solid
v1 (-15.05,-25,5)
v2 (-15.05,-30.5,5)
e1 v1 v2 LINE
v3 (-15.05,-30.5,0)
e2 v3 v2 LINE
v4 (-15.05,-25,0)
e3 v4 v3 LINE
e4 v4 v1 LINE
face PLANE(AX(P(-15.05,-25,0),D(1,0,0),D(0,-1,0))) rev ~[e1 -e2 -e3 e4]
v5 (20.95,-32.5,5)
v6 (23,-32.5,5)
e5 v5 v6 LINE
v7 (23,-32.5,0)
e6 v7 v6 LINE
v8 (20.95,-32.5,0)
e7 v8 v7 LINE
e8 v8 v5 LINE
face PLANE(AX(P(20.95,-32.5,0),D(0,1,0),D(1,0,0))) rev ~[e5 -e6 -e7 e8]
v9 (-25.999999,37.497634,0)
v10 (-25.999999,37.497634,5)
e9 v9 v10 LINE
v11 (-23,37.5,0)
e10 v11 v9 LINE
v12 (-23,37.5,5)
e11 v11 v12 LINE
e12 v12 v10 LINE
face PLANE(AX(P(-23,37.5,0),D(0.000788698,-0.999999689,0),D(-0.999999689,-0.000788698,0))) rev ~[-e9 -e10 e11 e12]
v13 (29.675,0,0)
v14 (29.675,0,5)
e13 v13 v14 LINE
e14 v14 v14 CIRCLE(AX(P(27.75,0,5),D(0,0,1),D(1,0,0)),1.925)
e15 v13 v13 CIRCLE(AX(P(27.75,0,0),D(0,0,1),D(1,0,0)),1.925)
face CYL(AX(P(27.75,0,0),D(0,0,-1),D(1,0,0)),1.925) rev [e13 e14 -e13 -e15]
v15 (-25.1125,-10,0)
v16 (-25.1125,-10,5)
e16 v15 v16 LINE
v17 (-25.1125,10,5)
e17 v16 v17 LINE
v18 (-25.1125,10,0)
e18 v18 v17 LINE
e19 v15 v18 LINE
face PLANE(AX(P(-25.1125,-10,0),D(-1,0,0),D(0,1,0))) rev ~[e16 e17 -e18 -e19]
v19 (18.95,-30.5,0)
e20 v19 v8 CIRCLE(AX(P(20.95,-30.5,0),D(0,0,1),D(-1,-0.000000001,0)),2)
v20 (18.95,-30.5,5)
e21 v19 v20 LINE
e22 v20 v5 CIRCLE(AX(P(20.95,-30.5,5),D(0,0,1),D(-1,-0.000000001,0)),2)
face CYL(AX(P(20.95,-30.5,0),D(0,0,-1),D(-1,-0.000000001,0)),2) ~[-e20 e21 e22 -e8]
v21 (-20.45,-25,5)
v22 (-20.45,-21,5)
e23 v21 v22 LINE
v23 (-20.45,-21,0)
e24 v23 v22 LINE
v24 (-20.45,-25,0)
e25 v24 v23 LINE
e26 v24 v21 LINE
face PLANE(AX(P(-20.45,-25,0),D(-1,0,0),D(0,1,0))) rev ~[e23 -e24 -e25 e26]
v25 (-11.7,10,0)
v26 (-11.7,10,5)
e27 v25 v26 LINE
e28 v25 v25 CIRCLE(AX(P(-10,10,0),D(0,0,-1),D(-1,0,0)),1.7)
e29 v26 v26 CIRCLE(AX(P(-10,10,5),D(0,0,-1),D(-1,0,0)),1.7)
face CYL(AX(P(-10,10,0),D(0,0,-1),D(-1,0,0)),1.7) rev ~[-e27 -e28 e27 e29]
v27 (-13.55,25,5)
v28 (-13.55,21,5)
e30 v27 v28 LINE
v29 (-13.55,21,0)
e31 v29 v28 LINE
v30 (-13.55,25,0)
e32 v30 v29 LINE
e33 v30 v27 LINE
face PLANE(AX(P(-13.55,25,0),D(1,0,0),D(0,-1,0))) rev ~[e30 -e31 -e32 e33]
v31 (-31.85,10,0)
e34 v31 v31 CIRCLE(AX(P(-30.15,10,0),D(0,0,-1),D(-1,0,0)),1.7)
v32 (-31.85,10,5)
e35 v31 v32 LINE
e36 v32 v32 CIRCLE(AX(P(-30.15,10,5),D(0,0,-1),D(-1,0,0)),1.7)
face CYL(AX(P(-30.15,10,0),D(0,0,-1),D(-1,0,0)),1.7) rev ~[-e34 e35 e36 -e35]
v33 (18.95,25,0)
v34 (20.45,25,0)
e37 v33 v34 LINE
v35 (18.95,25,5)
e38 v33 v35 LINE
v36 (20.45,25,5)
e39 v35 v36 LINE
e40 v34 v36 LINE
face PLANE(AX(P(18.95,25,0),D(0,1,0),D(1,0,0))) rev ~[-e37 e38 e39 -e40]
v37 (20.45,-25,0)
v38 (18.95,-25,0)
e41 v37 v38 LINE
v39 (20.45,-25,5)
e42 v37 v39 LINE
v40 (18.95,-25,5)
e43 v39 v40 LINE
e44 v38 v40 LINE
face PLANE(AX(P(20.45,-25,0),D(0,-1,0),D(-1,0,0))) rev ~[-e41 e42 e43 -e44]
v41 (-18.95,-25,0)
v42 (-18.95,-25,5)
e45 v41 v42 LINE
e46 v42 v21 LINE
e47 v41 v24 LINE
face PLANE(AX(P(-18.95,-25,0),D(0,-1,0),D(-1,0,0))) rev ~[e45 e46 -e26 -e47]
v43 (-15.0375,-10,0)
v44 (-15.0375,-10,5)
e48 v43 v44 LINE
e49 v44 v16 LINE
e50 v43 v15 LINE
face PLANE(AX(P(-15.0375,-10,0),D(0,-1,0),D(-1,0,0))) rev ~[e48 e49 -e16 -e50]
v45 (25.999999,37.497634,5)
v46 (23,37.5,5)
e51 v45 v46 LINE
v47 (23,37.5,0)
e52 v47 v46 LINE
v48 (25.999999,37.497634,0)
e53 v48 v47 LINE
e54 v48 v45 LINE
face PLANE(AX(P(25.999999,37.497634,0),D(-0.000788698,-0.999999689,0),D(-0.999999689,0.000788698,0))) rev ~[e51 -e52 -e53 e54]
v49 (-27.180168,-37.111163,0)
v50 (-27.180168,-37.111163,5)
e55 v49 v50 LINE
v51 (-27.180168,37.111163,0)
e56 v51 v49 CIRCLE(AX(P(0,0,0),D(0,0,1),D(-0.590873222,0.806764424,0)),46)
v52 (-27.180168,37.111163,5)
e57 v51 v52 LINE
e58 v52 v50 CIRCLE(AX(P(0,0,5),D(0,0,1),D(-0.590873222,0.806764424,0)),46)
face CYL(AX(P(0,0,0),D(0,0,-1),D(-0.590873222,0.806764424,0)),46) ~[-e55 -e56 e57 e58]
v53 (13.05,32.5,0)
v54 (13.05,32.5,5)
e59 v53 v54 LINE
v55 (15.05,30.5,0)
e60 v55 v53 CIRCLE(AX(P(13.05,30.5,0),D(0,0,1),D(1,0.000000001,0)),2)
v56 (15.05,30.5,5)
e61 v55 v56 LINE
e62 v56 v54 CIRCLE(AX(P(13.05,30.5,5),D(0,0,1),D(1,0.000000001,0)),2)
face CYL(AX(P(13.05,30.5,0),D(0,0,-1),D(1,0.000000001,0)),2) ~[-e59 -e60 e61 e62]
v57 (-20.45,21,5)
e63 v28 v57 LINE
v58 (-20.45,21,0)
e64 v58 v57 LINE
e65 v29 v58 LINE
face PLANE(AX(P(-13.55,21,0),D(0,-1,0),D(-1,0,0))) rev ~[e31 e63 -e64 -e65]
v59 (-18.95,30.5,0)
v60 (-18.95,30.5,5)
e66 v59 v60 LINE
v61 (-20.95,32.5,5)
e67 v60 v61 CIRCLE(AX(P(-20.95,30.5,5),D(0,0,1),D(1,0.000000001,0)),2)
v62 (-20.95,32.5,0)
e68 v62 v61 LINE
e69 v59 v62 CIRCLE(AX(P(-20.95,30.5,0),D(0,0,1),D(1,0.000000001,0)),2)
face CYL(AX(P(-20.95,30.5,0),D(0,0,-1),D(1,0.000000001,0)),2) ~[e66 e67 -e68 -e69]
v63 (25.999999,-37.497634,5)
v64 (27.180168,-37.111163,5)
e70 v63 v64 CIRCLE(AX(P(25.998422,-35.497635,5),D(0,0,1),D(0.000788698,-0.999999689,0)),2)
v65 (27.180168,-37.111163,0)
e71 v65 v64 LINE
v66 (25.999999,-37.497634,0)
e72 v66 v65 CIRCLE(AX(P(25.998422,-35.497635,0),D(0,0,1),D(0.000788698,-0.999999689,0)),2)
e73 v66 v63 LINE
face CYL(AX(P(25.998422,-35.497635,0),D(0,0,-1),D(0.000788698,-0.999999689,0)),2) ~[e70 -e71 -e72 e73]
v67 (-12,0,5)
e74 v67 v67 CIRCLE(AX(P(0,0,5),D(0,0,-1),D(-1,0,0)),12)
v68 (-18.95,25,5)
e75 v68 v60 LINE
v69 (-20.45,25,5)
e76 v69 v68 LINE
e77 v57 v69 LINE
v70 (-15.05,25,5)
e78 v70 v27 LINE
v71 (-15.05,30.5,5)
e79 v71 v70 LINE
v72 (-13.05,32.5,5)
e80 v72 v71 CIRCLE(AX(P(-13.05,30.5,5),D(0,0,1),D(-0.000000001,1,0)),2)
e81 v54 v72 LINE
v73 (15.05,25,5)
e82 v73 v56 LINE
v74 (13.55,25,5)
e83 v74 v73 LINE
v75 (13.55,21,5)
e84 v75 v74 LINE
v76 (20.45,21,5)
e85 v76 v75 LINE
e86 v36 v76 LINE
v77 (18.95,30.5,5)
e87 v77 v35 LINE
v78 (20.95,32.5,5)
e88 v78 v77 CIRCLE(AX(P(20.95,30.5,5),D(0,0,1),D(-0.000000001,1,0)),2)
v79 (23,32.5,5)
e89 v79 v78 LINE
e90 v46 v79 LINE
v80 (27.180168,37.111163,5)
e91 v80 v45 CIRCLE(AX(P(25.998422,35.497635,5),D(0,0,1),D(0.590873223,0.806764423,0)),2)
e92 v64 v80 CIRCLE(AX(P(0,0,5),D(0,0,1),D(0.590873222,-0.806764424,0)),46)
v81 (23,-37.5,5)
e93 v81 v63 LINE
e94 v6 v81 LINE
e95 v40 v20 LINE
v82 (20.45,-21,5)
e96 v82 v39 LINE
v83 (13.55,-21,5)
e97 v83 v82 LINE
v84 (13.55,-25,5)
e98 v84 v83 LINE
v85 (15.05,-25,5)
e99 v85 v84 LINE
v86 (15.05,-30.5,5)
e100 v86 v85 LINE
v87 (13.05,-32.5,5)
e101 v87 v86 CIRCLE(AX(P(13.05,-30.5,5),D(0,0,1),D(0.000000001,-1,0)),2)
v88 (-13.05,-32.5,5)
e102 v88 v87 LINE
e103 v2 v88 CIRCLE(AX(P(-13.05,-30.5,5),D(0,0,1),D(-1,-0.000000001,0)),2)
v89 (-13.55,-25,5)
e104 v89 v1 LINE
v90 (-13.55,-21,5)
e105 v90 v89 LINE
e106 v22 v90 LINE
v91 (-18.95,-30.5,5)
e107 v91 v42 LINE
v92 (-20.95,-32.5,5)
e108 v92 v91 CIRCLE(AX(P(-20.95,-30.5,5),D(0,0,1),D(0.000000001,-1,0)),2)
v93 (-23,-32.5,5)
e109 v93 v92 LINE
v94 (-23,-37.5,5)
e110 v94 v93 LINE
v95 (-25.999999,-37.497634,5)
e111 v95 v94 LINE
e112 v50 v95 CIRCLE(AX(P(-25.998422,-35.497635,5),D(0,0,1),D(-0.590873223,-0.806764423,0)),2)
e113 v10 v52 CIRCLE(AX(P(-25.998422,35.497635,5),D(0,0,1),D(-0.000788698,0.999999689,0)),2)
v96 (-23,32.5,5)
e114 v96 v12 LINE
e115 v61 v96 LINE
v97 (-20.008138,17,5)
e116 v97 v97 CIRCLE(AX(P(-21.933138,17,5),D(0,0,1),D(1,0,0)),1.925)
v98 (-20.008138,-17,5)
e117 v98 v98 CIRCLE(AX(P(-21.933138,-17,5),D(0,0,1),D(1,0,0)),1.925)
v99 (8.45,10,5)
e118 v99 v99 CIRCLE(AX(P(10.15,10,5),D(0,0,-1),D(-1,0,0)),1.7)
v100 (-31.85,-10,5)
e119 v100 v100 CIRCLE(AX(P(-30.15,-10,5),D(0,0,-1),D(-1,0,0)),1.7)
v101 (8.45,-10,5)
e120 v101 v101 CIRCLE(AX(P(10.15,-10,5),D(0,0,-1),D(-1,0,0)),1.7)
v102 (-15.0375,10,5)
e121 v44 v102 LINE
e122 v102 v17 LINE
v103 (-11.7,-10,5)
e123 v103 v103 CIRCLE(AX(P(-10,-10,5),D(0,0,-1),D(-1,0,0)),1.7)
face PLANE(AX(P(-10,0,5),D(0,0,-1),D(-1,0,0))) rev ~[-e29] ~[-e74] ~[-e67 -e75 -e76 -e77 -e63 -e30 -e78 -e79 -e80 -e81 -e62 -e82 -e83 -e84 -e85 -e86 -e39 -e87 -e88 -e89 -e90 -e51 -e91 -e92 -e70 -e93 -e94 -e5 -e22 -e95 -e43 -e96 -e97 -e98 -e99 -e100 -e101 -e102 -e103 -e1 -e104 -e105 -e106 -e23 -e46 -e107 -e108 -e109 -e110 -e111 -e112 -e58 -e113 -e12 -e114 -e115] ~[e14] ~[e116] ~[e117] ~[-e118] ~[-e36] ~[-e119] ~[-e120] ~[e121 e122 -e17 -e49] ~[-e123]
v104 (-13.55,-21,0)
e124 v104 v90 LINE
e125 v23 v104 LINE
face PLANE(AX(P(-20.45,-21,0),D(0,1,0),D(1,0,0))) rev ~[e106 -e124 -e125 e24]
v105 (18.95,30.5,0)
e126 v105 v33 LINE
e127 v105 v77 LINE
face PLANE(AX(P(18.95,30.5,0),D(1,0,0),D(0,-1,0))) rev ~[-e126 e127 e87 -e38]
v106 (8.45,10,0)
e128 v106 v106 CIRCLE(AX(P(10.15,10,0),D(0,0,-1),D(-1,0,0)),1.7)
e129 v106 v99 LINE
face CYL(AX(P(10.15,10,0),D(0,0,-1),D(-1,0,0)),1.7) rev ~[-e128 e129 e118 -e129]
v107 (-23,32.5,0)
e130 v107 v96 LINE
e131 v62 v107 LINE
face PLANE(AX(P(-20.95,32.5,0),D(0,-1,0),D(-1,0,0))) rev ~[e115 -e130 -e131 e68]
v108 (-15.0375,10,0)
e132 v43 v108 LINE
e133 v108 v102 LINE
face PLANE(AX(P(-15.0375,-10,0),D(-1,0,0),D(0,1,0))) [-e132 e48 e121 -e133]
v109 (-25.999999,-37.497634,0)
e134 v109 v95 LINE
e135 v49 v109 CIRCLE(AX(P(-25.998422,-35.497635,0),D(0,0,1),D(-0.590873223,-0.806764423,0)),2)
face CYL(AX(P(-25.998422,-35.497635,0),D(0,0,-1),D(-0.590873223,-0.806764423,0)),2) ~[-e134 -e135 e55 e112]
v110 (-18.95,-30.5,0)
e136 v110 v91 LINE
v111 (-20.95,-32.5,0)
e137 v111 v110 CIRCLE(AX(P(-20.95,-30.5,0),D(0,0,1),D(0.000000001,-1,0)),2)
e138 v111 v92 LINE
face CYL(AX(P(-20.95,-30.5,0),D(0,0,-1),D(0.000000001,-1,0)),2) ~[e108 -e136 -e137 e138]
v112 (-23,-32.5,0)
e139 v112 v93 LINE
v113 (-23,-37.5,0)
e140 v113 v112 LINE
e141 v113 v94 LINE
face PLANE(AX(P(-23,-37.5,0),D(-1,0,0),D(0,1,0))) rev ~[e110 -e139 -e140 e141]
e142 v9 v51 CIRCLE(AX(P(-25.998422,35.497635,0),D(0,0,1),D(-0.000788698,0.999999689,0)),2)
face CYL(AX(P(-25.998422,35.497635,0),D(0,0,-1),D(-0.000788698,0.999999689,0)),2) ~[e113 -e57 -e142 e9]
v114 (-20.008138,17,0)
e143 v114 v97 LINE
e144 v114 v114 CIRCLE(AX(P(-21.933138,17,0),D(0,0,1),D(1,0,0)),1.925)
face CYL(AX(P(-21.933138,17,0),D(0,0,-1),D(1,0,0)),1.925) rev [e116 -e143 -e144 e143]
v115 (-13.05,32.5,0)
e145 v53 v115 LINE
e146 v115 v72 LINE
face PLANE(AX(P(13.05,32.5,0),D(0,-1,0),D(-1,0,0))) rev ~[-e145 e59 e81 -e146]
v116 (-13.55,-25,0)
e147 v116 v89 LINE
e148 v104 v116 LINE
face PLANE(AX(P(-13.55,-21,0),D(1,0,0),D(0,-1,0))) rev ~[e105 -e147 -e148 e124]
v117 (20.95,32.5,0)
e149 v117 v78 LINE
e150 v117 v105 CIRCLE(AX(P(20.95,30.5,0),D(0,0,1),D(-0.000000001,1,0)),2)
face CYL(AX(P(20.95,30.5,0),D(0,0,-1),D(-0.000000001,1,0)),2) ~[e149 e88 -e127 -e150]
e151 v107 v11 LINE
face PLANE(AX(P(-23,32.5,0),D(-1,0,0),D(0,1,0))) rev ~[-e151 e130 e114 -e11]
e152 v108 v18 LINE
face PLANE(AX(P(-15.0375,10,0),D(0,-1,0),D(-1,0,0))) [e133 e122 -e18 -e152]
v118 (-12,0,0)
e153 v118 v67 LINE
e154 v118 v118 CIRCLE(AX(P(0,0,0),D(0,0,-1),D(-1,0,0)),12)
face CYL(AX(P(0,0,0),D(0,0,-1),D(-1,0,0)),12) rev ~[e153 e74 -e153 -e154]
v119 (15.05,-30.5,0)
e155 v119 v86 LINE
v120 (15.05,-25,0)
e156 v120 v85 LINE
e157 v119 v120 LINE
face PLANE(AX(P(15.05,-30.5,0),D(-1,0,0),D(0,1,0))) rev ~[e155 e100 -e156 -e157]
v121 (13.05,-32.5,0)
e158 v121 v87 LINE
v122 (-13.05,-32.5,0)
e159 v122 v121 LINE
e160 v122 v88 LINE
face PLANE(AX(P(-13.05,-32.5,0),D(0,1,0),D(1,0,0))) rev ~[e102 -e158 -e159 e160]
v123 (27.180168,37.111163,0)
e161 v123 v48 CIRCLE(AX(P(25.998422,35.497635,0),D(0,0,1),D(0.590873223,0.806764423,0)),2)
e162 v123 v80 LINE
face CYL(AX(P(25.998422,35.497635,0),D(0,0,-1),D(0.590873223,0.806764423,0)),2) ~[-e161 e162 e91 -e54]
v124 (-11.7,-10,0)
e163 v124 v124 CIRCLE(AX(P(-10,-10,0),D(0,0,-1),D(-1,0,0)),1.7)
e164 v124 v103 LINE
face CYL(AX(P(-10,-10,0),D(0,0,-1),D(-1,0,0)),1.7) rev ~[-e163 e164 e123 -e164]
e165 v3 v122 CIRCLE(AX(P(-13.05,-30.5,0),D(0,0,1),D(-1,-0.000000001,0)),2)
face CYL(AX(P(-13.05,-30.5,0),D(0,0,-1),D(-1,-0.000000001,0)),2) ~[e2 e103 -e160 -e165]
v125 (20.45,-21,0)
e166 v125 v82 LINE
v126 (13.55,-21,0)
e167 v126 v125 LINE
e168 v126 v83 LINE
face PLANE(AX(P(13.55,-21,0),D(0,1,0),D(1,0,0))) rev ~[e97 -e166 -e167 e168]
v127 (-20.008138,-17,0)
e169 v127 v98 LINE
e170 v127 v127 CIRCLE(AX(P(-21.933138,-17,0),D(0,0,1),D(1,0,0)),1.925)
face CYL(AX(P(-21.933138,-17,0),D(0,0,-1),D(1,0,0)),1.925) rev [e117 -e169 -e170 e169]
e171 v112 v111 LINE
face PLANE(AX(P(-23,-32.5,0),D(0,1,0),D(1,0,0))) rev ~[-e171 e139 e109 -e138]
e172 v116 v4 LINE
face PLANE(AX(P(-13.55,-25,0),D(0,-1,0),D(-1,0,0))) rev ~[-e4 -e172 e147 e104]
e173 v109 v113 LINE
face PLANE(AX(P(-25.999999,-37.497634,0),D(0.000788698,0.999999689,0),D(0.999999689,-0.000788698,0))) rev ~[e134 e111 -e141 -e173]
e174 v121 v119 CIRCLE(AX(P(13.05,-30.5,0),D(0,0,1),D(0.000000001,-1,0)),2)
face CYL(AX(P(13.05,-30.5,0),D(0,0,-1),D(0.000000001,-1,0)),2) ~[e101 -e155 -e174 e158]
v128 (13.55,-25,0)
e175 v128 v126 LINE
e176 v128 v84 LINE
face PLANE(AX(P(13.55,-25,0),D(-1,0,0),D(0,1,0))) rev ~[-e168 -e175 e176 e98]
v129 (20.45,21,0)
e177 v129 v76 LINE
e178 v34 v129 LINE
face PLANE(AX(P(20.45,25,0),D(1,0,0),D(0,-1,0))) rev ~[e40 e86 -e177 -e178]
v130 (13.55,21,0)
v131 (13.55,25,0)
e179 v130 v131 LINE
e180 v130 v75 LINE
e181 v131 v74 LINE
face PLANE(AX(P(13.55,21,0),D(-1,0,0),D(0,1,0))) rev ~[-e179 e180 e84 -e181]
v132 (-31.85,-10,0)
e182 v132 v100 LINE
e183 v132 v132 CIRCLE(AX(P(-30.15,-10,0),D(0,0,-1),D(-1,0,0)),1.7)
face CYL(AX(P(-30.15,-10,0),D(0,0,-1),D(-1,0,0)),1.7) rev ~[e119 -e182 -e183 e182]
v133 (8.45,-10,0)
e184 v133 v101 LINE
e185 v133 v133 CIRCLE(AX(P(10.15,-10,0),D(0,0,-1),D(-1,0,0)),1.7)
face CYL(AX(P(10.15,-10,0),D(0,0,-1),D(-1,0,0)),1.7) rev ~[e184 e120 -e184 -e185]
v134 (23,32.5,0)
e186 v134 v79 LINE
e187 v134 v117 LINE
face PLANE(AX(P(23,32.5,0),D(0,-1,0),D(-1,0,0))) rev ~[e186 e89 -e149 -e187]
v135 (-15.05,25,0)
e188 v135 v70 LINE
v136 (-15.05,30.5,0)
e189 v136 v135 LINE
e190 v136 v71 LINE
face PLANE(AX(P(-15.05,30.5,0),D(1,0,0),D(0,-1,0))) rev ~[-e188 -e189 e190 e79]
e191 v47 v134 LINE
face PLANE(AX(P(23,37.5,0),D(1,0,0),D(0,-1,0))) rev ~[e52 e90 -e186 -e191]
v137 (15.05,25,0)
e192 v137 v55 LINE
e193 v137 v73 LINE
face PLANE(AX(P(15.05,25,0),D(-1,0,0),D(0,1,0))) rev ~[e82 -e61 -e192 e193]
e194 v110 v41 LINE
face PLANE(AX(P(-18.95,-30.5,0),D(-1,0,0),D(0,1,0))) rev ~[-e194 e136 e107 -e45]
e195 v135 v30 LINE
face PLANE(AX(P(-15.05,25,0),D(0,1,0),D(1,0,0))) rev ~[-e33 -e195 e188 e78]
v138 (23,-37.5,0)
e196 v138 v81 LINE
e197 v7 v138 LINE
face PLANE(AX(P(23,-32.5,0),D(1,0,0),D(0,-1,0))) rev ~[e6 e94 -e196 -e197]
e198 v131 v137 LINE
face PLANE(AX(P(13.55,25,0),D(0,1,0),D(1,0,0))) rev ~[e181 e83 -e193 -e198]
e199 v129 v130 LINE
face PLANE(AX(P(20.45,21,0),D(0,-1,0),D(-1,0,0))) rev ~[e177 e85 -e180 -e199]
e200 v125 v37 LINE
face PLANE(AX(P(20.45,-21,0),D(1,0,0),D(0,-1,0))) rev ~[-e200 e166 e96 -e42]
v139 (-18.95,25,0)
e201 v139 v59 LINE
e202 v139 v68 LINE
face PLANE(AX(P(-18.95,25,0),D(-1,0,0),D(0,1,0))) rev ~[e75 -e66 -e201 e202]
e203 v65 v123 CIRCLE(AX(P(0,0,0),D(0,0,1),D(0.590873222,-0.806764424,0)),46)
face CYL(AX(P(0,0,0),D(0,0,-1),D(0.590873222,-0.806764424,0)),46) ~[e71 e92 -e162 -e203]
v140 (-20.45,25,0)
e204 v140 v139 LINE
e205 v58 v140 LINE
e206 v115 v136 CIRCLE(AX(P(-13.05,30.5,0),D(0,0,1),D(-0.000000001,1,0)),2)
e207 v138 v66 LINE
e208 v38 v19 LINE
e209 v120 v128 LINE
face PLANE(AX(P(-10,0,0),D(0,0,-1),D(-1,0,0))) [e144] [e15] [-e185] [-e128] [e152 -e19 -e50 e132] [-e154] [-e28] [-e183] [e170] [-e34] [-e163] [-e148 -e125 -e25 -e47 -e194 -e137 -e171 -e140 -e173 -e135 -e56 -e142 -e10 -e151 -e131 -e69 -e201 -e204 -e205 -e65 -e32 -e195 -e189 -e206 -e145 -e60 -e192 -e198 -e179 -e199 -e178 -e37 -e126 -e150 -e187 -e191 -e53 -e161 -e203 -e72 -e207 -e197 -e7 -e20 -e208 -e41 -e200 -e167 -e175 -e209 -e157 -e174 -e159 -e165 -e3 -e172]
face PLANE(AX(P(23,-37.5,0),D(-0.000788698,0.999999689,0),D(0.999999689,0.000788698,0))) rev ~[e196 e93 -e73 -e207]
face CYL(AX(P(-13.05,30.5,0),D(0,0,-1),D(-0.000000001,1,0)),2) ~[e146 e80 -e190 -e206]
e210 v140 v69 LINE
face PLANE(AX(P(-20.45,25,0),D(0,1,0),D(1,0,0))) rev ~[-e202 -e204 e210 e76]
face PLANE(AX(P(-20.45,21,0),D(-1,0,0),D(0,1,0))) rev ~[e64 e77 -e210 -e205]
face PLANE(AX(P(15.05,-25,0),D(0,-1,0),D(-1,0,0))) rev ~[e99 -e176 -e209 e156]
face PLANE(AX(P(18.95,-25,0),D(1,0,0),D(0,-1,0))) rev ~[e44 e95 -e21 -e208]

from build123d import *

# Parameters (mm, degrees)
ESQUISSE1_R         = 1.925
BOSS_EXTRU_1_DEPTH  = 5
SKETCH_1_W          = 8.010899758
SKETCH_1_H          = 5.2
SKETCH_1_W_2        = 7.665468451
EXTRUDE_1_DEPTH     = 5
SKETCH_2_W          = 8.485253828
SKETCH_2_H          = 20
EXTRUDE_2_DEPTH     = 5
SKETCH_3_R          = 1.6
CUT_EXTRUDE_1_DEPTH = 5
EXTRUDE_3_DEPTH     = 5
SKETCH_6_R          = 12
SKETCH_6_W          = 10.075
SKETCH_6_H          = 20
CUT_EXTRUDE_2_DEPTH = 5
SKETCH_7_R          = 1.7
SKETCH_7_R_2        = 11
CUT_EXTRUDE_3_DEPTH = 5


with BuildPart() as part:
    # Esquisse1 → Boss.-Extru.1 (new body)
    with BuildSketch(Plane.XY):
        with BuildLine():
            Line((13.05, 32.5), (-13.05, 32.5))
            ThreePointArc((-13.05, 32.5), (-14.464213562, 31.914213562), (-15.05, 30.5))
            Line((-15.05, 30.5), (-15.05, 25))
            Line((-15.05, 25), (-13.55, 25))
            Line((-13.55, 25), (-13.55, 21))
            Line((-13.55, 21), (-20.45, 21))
            Line((-20.45, 21), (-20.45, 25))
            Line((-20.45, 25), (-18.95, 25))
            Line((-18.95, 25), (-18.95, 30.5))
            ThreePointArc((-18.95, 30.5), (-19.535786438, 31.914213562), (-20.95, 32.5))
            Line((-20.95, 32.5), (-23, 32.5))
            Line((-23, 32.5), (-23, 37.5))
            Line((-23, 37.5), (-25.999999067, 37.497633905))
            ThreePointArc((-25.999999067, 37.497633905), (-26.620839292, 37.398317642), (-27.180168114, 37.111163374))
            ThreePointArc((-27.180168114, 37.111163374), (-45.999999844, 0), (-27.180168114, -37.111163374))
            ThreePointArc((-27.180168114, -37.111163374), (-26.620839292, -37.398317642), (-25.999999067, -37.497633905))
            Line((-25.999999067, -37.497633905), (-23, -37.5))
            Line((-23, -37.5), (-23, -32.5))
            Line((-23, -32.5), (-20.95, -32.5))
            ThreePointArc((-20.95, -32.5), (-19.535786438, -31.914213562), (-18.95, -30.5))
            Line((-18.95, -30.5), (-18.95, -25))
            Line((-18.95, -25), (-20.45, -25))
            Line((-20.45, -25), (-20.45, -21))
            Line((-20.45, -21), (-13.55, -21))
            Line((-13.55, -21), (-13.55, -25))
            Line((-13.55, -25), (-15.05, -25))
            Line((-15.05, -25), (-15.05, -30.5))
            ThreePointArc((-15.05, -30.5), (-14.464213562, -31.914213562), (-13.05, -32.5))
            Line((-13.05, -32.5), (13.05, -32.5))
            ThreePointArc((13.05, -32.5), (14.464213562, -31.914213562), (15.05, -30.5))
            Line((15.05, -30.5), (15.05, -25))
            Line((15.05, -25), (13.55, -25))
            Line((13.55, -25), (13.55, -21))
            Line((13.55, -21), (20.45, -21))
            Line((20.45, -21), (20.45, -25))
            Line((20.45, -25), (18.95, -25))
            Line((18.95, -25), (18.95, -30.5))
            ThreePointArc((18.95, -30.5), (19.535786438, -31.914213562), (20.95, -32.5))
            Line((20.95, -32.5), (23, -32.5))
            Line((23, -32.5), (23, -37.5))
            Line((23, -37.5), (25.999999067, -37.497633905))
            ThreePointArc((25.999999067, -37.497633905), (26.620839292, -37.398317642), (27.180168114, -37.111163374))
            ThreePointArc((27.180168114, -37.111163374), (45.999999844, 0), (27.180168114, 37.111163374))
            ThreePointArc((27.180168114, 37.111163374), (26.620839292, 37.398317642), (25.999999067, 37.497633905))
            Line((25.999999067, 37.497633905), (23, 37.5))
            Line((23, 37.5), (23, 32.5))
            Line((23, 32.5), (20.95, 32.5))
            ThreePointArc((20.95, 32.5), (19.535786438, 31.914213562), (18.95, 30.5))
            Line((18.95, 30.5), (18.95, 25))
            Line((18.95, 25), (20.45, 25))
            Line((20.45, 25), (20.45, 21))
            Line((20.45, 21), (13.55, 21))
            Line((13.55, 21), (13.55, 25))
            Line((13.55, 25), (15.05, 25))
            Line((15.05, 25), (15.05, 30.5))
            ThreePointArc((15.05, 30.5), (14.464213562, 31.914213562), (13.05, 32.5))
        make_face()
        with Locations((27.75, 0)):
            Circle(ESQUISSE1_R, mode=Mode.SUBTRACT)
        with Locations((-21.933137835, -17)):
            Circle(ESQUISSE1_R, mode=Mode.SUBTRACT)
        with Locations((-21.933137835, 17)):
            Circle(ESQUISSE1_R, mode=Mode.SUBTRACT)
        with Locations((14.500000149, -5)):
            Circle(ESQUISSE1_R, mode=Mode.SUBTRACT)
        with Locations((14.500000149, 5)):
            Circle(ESQUISSE1_R, mode=Mode.SUBTRACT)
        with Locations((-34.499999851, -5)):
            Circle(ESQUISSE1_R, mode=Mode.SUBTRACT)
        with Locations((-34.499999851, 5)):
            Circle(ESQUISSE1_R, mode=Mode.SUBTRACT)
        with BuildLine():
            Line((10.150000149, -10), (10.150000149, -2.6))
            ThreePointArc((10.150000149, -2.6), (10.735786586, -1.185786438), (12.150000149, -0.6))
            Line((12.150000149, -0.6), (16.500000149, -0.6))
            ThreePointArc((16.500000149, -0.6), (17.100000149, 0), (16.500000149, 0.6))
            Line((16.500000149, 0.6), (12.150000149, 0.6))
            ThreePointArc((12.150000149, 0.6), (10.735786586, 1.185786438), (10.150000149, 2.6))
            Line((10.150000149, 2.6), (10.150000149, 10))
            Line((10.150000149, 10), (-30.149999851, 10))
            Line((-30.149999851, 10), (-30.149999851, 2.6))
            ThreePointArc((-30.149999851, 2.6), (-30.735786289, 1.185786438), (-32.149999851, 0.6))
            Line((-32.149999851, 0.6), (-36.499999851, 0.6))
            ThreePointArc((-36.499999851, 0.6), (-37.099999851, 0), (-36.499999851, -0.6))
            Line((-36.499999851, -0.6), (-32.149999851, -0.6))
            ThreePointArc((-32.149999851, -0.6), (-30.735786289, -1.185786438), (-30.149999851, -2.6))
            Line((-30.149999851, -2.6), (-30.149999851, -10))
            Line((-30.149999851, -10), (10.150000149, -10))
        make_face(mode=Mode.SUBTRACT)
    extrude(amount=BOSS_EXTRU_1_DEPTH)

    # 草图1 → 凸台-拉伸1 (add)
    with BuildSketch(Plane(origin=(0, 0, 0), x_dir=(-1, 0, 0), z_dir=(0, 0, -1))):
        with Locations((34.15544973, 0)):
            Rectangle(SKETCH_1_W, SKETCH_1_H)
        with Locations((-13.982734375, 0)):
            Rectangle(SKETCH_1_W_2, SKETCH_1_H)
    extrude(amount=-EXTRUDE_1_DEPTH)

    # 草图2 → 凸台-拉伸2 (add)
    with BuildSketch(Plane(origin=(0, 0, 0), x_dir=(-1, 0, 0), z_dir=(0, 0, -1))):
        Polygon((-10.150000149, 10), (-18.078472642, 10), (-18.078472642, -9.561252325), (-10.150000149, -10), align=None)
        with Locations((34.392626765, 0)):
            Rectangle(SKETCH_2_W, SKETCH_2_H)
    extrude(amount=-EXTRUDE_2_DEPTH)

    # 草图3 → 切除-拉伸1 (cut)
    with BuildSketch(Plane(origin=(0, 0, 0), x_dir=(-1, 0, 0), z_dir=(0, 0, -1))):
        with Locations((30.149999851, 10)):
            Circle(SKETCH_3_R)
        with Locations((30.149999851, -10)):
            Circle(SKETCH_3_R)
        with Locations((-10.150000149, 10)):
            Circle(SKETCH_3_R)
        with Locations((-10.150000149, -10)):
            Circle(SKETCH_3_R)
        with Locations((9.999999851, -10)):
            Circle(SKETCH_3_R)
        with Locations((9.999999851, 10)):
            Circle(SKETCH_3_R)
    extrude(amount=-CUT_EXTRUDE_1_DEPTH, mode=Mode.SUBTRACT)

    # 草图5 → 凸台-拉伸3 (add)
    with BuildSketch(Plane(origin=(0, 0, 0), x_dir=(-1, 0, 0), z_dir=(0, 0, -1))):
        with BuildLine():
            Line((30.149999851, -8.4), (30.149999851, 8.4))
            ThreePointArc((30.149999851, 8.4), (29.018629001, 8.86862915), (28.549999851, 10))
            Line((28.549999851, 10), (11.599999851, 10))
            ThreePointArc((11.599999851, 10), (9.999999851, 8.4), (8.399999851, 10))
            Line((8.399999851, 10), (-8.550000149, 10))
            ThreePointArc((-8.550000149, 10), (-9.018629299, 8.86862915), (-10.150000149, 8.4))
            Line((-10.150000149, 8.4), (-10.150000149, -8.4))
            ThreePointArc((-10.150000149, -8.4), (-9.018629299, -8.86862915), (-8.550000149, -10))
            Line((-8.550000149, -10), (8.399999851, -10))
            ThreePointArc((8.399999851, -10), (9.999999851, -8.4), (11.599999851, -10))
            Line((11.599999851, -10), (28.549999851, -10))
            ThreePointArc((28.549999851, -10), (29.018629001, -8.86862915), (30.149999851, -8.4))
        make_face()
    extrude(amount=-EXTRUDE_3_DEPTH)

    # 草图6 → 切除-拉伸2 (cut)
    with BuildSketch(Plane(origin=(0, 0, 0), x_dir=(-1, 0, 0), z_dir=(0, 0, -1))):
        Circle(SKETCH_6_R)
        with Locations((20.074999851, 0)):
            Rectangle(SKETCH_6_W, SKETCH_6_H)
    extrude(amount=-CUT_EXTRUDE_2_DEPTH, mode=Mode.SUBTRACT)

    # 草图7 → 切除-拉伸3 (cut)
    with BuildSketch(Plane(origin=(0, 0, 0), x_dir=(-1, 0, 0), z_dir=(0, 0, -1))):
        with Locations((-10.150000149, 10)):
            Circle(SKETCH_7_R)
        with Locations((9.999999851, 10)):
            Circle(SKETCH_7_R)
        with Locations((-10.150000149, -10)):
            Circle(SKETCH_7_R)
        with Locations((9.999999851, -10)):
            Circle(SKETCH_7_R)
        with Locations((30.149999851, -10)):
            Circle(SKETCH_7_R)
        with Locations((30.149999851, 10)):
            Circle(SKETCH_7_R)
        Circle(SKETCH_7_R_2)
    extrude(amount=-CUT_EXTRUDE_3_DEPTH, mode=Mode.SUBTRACT)


solid = part.part
